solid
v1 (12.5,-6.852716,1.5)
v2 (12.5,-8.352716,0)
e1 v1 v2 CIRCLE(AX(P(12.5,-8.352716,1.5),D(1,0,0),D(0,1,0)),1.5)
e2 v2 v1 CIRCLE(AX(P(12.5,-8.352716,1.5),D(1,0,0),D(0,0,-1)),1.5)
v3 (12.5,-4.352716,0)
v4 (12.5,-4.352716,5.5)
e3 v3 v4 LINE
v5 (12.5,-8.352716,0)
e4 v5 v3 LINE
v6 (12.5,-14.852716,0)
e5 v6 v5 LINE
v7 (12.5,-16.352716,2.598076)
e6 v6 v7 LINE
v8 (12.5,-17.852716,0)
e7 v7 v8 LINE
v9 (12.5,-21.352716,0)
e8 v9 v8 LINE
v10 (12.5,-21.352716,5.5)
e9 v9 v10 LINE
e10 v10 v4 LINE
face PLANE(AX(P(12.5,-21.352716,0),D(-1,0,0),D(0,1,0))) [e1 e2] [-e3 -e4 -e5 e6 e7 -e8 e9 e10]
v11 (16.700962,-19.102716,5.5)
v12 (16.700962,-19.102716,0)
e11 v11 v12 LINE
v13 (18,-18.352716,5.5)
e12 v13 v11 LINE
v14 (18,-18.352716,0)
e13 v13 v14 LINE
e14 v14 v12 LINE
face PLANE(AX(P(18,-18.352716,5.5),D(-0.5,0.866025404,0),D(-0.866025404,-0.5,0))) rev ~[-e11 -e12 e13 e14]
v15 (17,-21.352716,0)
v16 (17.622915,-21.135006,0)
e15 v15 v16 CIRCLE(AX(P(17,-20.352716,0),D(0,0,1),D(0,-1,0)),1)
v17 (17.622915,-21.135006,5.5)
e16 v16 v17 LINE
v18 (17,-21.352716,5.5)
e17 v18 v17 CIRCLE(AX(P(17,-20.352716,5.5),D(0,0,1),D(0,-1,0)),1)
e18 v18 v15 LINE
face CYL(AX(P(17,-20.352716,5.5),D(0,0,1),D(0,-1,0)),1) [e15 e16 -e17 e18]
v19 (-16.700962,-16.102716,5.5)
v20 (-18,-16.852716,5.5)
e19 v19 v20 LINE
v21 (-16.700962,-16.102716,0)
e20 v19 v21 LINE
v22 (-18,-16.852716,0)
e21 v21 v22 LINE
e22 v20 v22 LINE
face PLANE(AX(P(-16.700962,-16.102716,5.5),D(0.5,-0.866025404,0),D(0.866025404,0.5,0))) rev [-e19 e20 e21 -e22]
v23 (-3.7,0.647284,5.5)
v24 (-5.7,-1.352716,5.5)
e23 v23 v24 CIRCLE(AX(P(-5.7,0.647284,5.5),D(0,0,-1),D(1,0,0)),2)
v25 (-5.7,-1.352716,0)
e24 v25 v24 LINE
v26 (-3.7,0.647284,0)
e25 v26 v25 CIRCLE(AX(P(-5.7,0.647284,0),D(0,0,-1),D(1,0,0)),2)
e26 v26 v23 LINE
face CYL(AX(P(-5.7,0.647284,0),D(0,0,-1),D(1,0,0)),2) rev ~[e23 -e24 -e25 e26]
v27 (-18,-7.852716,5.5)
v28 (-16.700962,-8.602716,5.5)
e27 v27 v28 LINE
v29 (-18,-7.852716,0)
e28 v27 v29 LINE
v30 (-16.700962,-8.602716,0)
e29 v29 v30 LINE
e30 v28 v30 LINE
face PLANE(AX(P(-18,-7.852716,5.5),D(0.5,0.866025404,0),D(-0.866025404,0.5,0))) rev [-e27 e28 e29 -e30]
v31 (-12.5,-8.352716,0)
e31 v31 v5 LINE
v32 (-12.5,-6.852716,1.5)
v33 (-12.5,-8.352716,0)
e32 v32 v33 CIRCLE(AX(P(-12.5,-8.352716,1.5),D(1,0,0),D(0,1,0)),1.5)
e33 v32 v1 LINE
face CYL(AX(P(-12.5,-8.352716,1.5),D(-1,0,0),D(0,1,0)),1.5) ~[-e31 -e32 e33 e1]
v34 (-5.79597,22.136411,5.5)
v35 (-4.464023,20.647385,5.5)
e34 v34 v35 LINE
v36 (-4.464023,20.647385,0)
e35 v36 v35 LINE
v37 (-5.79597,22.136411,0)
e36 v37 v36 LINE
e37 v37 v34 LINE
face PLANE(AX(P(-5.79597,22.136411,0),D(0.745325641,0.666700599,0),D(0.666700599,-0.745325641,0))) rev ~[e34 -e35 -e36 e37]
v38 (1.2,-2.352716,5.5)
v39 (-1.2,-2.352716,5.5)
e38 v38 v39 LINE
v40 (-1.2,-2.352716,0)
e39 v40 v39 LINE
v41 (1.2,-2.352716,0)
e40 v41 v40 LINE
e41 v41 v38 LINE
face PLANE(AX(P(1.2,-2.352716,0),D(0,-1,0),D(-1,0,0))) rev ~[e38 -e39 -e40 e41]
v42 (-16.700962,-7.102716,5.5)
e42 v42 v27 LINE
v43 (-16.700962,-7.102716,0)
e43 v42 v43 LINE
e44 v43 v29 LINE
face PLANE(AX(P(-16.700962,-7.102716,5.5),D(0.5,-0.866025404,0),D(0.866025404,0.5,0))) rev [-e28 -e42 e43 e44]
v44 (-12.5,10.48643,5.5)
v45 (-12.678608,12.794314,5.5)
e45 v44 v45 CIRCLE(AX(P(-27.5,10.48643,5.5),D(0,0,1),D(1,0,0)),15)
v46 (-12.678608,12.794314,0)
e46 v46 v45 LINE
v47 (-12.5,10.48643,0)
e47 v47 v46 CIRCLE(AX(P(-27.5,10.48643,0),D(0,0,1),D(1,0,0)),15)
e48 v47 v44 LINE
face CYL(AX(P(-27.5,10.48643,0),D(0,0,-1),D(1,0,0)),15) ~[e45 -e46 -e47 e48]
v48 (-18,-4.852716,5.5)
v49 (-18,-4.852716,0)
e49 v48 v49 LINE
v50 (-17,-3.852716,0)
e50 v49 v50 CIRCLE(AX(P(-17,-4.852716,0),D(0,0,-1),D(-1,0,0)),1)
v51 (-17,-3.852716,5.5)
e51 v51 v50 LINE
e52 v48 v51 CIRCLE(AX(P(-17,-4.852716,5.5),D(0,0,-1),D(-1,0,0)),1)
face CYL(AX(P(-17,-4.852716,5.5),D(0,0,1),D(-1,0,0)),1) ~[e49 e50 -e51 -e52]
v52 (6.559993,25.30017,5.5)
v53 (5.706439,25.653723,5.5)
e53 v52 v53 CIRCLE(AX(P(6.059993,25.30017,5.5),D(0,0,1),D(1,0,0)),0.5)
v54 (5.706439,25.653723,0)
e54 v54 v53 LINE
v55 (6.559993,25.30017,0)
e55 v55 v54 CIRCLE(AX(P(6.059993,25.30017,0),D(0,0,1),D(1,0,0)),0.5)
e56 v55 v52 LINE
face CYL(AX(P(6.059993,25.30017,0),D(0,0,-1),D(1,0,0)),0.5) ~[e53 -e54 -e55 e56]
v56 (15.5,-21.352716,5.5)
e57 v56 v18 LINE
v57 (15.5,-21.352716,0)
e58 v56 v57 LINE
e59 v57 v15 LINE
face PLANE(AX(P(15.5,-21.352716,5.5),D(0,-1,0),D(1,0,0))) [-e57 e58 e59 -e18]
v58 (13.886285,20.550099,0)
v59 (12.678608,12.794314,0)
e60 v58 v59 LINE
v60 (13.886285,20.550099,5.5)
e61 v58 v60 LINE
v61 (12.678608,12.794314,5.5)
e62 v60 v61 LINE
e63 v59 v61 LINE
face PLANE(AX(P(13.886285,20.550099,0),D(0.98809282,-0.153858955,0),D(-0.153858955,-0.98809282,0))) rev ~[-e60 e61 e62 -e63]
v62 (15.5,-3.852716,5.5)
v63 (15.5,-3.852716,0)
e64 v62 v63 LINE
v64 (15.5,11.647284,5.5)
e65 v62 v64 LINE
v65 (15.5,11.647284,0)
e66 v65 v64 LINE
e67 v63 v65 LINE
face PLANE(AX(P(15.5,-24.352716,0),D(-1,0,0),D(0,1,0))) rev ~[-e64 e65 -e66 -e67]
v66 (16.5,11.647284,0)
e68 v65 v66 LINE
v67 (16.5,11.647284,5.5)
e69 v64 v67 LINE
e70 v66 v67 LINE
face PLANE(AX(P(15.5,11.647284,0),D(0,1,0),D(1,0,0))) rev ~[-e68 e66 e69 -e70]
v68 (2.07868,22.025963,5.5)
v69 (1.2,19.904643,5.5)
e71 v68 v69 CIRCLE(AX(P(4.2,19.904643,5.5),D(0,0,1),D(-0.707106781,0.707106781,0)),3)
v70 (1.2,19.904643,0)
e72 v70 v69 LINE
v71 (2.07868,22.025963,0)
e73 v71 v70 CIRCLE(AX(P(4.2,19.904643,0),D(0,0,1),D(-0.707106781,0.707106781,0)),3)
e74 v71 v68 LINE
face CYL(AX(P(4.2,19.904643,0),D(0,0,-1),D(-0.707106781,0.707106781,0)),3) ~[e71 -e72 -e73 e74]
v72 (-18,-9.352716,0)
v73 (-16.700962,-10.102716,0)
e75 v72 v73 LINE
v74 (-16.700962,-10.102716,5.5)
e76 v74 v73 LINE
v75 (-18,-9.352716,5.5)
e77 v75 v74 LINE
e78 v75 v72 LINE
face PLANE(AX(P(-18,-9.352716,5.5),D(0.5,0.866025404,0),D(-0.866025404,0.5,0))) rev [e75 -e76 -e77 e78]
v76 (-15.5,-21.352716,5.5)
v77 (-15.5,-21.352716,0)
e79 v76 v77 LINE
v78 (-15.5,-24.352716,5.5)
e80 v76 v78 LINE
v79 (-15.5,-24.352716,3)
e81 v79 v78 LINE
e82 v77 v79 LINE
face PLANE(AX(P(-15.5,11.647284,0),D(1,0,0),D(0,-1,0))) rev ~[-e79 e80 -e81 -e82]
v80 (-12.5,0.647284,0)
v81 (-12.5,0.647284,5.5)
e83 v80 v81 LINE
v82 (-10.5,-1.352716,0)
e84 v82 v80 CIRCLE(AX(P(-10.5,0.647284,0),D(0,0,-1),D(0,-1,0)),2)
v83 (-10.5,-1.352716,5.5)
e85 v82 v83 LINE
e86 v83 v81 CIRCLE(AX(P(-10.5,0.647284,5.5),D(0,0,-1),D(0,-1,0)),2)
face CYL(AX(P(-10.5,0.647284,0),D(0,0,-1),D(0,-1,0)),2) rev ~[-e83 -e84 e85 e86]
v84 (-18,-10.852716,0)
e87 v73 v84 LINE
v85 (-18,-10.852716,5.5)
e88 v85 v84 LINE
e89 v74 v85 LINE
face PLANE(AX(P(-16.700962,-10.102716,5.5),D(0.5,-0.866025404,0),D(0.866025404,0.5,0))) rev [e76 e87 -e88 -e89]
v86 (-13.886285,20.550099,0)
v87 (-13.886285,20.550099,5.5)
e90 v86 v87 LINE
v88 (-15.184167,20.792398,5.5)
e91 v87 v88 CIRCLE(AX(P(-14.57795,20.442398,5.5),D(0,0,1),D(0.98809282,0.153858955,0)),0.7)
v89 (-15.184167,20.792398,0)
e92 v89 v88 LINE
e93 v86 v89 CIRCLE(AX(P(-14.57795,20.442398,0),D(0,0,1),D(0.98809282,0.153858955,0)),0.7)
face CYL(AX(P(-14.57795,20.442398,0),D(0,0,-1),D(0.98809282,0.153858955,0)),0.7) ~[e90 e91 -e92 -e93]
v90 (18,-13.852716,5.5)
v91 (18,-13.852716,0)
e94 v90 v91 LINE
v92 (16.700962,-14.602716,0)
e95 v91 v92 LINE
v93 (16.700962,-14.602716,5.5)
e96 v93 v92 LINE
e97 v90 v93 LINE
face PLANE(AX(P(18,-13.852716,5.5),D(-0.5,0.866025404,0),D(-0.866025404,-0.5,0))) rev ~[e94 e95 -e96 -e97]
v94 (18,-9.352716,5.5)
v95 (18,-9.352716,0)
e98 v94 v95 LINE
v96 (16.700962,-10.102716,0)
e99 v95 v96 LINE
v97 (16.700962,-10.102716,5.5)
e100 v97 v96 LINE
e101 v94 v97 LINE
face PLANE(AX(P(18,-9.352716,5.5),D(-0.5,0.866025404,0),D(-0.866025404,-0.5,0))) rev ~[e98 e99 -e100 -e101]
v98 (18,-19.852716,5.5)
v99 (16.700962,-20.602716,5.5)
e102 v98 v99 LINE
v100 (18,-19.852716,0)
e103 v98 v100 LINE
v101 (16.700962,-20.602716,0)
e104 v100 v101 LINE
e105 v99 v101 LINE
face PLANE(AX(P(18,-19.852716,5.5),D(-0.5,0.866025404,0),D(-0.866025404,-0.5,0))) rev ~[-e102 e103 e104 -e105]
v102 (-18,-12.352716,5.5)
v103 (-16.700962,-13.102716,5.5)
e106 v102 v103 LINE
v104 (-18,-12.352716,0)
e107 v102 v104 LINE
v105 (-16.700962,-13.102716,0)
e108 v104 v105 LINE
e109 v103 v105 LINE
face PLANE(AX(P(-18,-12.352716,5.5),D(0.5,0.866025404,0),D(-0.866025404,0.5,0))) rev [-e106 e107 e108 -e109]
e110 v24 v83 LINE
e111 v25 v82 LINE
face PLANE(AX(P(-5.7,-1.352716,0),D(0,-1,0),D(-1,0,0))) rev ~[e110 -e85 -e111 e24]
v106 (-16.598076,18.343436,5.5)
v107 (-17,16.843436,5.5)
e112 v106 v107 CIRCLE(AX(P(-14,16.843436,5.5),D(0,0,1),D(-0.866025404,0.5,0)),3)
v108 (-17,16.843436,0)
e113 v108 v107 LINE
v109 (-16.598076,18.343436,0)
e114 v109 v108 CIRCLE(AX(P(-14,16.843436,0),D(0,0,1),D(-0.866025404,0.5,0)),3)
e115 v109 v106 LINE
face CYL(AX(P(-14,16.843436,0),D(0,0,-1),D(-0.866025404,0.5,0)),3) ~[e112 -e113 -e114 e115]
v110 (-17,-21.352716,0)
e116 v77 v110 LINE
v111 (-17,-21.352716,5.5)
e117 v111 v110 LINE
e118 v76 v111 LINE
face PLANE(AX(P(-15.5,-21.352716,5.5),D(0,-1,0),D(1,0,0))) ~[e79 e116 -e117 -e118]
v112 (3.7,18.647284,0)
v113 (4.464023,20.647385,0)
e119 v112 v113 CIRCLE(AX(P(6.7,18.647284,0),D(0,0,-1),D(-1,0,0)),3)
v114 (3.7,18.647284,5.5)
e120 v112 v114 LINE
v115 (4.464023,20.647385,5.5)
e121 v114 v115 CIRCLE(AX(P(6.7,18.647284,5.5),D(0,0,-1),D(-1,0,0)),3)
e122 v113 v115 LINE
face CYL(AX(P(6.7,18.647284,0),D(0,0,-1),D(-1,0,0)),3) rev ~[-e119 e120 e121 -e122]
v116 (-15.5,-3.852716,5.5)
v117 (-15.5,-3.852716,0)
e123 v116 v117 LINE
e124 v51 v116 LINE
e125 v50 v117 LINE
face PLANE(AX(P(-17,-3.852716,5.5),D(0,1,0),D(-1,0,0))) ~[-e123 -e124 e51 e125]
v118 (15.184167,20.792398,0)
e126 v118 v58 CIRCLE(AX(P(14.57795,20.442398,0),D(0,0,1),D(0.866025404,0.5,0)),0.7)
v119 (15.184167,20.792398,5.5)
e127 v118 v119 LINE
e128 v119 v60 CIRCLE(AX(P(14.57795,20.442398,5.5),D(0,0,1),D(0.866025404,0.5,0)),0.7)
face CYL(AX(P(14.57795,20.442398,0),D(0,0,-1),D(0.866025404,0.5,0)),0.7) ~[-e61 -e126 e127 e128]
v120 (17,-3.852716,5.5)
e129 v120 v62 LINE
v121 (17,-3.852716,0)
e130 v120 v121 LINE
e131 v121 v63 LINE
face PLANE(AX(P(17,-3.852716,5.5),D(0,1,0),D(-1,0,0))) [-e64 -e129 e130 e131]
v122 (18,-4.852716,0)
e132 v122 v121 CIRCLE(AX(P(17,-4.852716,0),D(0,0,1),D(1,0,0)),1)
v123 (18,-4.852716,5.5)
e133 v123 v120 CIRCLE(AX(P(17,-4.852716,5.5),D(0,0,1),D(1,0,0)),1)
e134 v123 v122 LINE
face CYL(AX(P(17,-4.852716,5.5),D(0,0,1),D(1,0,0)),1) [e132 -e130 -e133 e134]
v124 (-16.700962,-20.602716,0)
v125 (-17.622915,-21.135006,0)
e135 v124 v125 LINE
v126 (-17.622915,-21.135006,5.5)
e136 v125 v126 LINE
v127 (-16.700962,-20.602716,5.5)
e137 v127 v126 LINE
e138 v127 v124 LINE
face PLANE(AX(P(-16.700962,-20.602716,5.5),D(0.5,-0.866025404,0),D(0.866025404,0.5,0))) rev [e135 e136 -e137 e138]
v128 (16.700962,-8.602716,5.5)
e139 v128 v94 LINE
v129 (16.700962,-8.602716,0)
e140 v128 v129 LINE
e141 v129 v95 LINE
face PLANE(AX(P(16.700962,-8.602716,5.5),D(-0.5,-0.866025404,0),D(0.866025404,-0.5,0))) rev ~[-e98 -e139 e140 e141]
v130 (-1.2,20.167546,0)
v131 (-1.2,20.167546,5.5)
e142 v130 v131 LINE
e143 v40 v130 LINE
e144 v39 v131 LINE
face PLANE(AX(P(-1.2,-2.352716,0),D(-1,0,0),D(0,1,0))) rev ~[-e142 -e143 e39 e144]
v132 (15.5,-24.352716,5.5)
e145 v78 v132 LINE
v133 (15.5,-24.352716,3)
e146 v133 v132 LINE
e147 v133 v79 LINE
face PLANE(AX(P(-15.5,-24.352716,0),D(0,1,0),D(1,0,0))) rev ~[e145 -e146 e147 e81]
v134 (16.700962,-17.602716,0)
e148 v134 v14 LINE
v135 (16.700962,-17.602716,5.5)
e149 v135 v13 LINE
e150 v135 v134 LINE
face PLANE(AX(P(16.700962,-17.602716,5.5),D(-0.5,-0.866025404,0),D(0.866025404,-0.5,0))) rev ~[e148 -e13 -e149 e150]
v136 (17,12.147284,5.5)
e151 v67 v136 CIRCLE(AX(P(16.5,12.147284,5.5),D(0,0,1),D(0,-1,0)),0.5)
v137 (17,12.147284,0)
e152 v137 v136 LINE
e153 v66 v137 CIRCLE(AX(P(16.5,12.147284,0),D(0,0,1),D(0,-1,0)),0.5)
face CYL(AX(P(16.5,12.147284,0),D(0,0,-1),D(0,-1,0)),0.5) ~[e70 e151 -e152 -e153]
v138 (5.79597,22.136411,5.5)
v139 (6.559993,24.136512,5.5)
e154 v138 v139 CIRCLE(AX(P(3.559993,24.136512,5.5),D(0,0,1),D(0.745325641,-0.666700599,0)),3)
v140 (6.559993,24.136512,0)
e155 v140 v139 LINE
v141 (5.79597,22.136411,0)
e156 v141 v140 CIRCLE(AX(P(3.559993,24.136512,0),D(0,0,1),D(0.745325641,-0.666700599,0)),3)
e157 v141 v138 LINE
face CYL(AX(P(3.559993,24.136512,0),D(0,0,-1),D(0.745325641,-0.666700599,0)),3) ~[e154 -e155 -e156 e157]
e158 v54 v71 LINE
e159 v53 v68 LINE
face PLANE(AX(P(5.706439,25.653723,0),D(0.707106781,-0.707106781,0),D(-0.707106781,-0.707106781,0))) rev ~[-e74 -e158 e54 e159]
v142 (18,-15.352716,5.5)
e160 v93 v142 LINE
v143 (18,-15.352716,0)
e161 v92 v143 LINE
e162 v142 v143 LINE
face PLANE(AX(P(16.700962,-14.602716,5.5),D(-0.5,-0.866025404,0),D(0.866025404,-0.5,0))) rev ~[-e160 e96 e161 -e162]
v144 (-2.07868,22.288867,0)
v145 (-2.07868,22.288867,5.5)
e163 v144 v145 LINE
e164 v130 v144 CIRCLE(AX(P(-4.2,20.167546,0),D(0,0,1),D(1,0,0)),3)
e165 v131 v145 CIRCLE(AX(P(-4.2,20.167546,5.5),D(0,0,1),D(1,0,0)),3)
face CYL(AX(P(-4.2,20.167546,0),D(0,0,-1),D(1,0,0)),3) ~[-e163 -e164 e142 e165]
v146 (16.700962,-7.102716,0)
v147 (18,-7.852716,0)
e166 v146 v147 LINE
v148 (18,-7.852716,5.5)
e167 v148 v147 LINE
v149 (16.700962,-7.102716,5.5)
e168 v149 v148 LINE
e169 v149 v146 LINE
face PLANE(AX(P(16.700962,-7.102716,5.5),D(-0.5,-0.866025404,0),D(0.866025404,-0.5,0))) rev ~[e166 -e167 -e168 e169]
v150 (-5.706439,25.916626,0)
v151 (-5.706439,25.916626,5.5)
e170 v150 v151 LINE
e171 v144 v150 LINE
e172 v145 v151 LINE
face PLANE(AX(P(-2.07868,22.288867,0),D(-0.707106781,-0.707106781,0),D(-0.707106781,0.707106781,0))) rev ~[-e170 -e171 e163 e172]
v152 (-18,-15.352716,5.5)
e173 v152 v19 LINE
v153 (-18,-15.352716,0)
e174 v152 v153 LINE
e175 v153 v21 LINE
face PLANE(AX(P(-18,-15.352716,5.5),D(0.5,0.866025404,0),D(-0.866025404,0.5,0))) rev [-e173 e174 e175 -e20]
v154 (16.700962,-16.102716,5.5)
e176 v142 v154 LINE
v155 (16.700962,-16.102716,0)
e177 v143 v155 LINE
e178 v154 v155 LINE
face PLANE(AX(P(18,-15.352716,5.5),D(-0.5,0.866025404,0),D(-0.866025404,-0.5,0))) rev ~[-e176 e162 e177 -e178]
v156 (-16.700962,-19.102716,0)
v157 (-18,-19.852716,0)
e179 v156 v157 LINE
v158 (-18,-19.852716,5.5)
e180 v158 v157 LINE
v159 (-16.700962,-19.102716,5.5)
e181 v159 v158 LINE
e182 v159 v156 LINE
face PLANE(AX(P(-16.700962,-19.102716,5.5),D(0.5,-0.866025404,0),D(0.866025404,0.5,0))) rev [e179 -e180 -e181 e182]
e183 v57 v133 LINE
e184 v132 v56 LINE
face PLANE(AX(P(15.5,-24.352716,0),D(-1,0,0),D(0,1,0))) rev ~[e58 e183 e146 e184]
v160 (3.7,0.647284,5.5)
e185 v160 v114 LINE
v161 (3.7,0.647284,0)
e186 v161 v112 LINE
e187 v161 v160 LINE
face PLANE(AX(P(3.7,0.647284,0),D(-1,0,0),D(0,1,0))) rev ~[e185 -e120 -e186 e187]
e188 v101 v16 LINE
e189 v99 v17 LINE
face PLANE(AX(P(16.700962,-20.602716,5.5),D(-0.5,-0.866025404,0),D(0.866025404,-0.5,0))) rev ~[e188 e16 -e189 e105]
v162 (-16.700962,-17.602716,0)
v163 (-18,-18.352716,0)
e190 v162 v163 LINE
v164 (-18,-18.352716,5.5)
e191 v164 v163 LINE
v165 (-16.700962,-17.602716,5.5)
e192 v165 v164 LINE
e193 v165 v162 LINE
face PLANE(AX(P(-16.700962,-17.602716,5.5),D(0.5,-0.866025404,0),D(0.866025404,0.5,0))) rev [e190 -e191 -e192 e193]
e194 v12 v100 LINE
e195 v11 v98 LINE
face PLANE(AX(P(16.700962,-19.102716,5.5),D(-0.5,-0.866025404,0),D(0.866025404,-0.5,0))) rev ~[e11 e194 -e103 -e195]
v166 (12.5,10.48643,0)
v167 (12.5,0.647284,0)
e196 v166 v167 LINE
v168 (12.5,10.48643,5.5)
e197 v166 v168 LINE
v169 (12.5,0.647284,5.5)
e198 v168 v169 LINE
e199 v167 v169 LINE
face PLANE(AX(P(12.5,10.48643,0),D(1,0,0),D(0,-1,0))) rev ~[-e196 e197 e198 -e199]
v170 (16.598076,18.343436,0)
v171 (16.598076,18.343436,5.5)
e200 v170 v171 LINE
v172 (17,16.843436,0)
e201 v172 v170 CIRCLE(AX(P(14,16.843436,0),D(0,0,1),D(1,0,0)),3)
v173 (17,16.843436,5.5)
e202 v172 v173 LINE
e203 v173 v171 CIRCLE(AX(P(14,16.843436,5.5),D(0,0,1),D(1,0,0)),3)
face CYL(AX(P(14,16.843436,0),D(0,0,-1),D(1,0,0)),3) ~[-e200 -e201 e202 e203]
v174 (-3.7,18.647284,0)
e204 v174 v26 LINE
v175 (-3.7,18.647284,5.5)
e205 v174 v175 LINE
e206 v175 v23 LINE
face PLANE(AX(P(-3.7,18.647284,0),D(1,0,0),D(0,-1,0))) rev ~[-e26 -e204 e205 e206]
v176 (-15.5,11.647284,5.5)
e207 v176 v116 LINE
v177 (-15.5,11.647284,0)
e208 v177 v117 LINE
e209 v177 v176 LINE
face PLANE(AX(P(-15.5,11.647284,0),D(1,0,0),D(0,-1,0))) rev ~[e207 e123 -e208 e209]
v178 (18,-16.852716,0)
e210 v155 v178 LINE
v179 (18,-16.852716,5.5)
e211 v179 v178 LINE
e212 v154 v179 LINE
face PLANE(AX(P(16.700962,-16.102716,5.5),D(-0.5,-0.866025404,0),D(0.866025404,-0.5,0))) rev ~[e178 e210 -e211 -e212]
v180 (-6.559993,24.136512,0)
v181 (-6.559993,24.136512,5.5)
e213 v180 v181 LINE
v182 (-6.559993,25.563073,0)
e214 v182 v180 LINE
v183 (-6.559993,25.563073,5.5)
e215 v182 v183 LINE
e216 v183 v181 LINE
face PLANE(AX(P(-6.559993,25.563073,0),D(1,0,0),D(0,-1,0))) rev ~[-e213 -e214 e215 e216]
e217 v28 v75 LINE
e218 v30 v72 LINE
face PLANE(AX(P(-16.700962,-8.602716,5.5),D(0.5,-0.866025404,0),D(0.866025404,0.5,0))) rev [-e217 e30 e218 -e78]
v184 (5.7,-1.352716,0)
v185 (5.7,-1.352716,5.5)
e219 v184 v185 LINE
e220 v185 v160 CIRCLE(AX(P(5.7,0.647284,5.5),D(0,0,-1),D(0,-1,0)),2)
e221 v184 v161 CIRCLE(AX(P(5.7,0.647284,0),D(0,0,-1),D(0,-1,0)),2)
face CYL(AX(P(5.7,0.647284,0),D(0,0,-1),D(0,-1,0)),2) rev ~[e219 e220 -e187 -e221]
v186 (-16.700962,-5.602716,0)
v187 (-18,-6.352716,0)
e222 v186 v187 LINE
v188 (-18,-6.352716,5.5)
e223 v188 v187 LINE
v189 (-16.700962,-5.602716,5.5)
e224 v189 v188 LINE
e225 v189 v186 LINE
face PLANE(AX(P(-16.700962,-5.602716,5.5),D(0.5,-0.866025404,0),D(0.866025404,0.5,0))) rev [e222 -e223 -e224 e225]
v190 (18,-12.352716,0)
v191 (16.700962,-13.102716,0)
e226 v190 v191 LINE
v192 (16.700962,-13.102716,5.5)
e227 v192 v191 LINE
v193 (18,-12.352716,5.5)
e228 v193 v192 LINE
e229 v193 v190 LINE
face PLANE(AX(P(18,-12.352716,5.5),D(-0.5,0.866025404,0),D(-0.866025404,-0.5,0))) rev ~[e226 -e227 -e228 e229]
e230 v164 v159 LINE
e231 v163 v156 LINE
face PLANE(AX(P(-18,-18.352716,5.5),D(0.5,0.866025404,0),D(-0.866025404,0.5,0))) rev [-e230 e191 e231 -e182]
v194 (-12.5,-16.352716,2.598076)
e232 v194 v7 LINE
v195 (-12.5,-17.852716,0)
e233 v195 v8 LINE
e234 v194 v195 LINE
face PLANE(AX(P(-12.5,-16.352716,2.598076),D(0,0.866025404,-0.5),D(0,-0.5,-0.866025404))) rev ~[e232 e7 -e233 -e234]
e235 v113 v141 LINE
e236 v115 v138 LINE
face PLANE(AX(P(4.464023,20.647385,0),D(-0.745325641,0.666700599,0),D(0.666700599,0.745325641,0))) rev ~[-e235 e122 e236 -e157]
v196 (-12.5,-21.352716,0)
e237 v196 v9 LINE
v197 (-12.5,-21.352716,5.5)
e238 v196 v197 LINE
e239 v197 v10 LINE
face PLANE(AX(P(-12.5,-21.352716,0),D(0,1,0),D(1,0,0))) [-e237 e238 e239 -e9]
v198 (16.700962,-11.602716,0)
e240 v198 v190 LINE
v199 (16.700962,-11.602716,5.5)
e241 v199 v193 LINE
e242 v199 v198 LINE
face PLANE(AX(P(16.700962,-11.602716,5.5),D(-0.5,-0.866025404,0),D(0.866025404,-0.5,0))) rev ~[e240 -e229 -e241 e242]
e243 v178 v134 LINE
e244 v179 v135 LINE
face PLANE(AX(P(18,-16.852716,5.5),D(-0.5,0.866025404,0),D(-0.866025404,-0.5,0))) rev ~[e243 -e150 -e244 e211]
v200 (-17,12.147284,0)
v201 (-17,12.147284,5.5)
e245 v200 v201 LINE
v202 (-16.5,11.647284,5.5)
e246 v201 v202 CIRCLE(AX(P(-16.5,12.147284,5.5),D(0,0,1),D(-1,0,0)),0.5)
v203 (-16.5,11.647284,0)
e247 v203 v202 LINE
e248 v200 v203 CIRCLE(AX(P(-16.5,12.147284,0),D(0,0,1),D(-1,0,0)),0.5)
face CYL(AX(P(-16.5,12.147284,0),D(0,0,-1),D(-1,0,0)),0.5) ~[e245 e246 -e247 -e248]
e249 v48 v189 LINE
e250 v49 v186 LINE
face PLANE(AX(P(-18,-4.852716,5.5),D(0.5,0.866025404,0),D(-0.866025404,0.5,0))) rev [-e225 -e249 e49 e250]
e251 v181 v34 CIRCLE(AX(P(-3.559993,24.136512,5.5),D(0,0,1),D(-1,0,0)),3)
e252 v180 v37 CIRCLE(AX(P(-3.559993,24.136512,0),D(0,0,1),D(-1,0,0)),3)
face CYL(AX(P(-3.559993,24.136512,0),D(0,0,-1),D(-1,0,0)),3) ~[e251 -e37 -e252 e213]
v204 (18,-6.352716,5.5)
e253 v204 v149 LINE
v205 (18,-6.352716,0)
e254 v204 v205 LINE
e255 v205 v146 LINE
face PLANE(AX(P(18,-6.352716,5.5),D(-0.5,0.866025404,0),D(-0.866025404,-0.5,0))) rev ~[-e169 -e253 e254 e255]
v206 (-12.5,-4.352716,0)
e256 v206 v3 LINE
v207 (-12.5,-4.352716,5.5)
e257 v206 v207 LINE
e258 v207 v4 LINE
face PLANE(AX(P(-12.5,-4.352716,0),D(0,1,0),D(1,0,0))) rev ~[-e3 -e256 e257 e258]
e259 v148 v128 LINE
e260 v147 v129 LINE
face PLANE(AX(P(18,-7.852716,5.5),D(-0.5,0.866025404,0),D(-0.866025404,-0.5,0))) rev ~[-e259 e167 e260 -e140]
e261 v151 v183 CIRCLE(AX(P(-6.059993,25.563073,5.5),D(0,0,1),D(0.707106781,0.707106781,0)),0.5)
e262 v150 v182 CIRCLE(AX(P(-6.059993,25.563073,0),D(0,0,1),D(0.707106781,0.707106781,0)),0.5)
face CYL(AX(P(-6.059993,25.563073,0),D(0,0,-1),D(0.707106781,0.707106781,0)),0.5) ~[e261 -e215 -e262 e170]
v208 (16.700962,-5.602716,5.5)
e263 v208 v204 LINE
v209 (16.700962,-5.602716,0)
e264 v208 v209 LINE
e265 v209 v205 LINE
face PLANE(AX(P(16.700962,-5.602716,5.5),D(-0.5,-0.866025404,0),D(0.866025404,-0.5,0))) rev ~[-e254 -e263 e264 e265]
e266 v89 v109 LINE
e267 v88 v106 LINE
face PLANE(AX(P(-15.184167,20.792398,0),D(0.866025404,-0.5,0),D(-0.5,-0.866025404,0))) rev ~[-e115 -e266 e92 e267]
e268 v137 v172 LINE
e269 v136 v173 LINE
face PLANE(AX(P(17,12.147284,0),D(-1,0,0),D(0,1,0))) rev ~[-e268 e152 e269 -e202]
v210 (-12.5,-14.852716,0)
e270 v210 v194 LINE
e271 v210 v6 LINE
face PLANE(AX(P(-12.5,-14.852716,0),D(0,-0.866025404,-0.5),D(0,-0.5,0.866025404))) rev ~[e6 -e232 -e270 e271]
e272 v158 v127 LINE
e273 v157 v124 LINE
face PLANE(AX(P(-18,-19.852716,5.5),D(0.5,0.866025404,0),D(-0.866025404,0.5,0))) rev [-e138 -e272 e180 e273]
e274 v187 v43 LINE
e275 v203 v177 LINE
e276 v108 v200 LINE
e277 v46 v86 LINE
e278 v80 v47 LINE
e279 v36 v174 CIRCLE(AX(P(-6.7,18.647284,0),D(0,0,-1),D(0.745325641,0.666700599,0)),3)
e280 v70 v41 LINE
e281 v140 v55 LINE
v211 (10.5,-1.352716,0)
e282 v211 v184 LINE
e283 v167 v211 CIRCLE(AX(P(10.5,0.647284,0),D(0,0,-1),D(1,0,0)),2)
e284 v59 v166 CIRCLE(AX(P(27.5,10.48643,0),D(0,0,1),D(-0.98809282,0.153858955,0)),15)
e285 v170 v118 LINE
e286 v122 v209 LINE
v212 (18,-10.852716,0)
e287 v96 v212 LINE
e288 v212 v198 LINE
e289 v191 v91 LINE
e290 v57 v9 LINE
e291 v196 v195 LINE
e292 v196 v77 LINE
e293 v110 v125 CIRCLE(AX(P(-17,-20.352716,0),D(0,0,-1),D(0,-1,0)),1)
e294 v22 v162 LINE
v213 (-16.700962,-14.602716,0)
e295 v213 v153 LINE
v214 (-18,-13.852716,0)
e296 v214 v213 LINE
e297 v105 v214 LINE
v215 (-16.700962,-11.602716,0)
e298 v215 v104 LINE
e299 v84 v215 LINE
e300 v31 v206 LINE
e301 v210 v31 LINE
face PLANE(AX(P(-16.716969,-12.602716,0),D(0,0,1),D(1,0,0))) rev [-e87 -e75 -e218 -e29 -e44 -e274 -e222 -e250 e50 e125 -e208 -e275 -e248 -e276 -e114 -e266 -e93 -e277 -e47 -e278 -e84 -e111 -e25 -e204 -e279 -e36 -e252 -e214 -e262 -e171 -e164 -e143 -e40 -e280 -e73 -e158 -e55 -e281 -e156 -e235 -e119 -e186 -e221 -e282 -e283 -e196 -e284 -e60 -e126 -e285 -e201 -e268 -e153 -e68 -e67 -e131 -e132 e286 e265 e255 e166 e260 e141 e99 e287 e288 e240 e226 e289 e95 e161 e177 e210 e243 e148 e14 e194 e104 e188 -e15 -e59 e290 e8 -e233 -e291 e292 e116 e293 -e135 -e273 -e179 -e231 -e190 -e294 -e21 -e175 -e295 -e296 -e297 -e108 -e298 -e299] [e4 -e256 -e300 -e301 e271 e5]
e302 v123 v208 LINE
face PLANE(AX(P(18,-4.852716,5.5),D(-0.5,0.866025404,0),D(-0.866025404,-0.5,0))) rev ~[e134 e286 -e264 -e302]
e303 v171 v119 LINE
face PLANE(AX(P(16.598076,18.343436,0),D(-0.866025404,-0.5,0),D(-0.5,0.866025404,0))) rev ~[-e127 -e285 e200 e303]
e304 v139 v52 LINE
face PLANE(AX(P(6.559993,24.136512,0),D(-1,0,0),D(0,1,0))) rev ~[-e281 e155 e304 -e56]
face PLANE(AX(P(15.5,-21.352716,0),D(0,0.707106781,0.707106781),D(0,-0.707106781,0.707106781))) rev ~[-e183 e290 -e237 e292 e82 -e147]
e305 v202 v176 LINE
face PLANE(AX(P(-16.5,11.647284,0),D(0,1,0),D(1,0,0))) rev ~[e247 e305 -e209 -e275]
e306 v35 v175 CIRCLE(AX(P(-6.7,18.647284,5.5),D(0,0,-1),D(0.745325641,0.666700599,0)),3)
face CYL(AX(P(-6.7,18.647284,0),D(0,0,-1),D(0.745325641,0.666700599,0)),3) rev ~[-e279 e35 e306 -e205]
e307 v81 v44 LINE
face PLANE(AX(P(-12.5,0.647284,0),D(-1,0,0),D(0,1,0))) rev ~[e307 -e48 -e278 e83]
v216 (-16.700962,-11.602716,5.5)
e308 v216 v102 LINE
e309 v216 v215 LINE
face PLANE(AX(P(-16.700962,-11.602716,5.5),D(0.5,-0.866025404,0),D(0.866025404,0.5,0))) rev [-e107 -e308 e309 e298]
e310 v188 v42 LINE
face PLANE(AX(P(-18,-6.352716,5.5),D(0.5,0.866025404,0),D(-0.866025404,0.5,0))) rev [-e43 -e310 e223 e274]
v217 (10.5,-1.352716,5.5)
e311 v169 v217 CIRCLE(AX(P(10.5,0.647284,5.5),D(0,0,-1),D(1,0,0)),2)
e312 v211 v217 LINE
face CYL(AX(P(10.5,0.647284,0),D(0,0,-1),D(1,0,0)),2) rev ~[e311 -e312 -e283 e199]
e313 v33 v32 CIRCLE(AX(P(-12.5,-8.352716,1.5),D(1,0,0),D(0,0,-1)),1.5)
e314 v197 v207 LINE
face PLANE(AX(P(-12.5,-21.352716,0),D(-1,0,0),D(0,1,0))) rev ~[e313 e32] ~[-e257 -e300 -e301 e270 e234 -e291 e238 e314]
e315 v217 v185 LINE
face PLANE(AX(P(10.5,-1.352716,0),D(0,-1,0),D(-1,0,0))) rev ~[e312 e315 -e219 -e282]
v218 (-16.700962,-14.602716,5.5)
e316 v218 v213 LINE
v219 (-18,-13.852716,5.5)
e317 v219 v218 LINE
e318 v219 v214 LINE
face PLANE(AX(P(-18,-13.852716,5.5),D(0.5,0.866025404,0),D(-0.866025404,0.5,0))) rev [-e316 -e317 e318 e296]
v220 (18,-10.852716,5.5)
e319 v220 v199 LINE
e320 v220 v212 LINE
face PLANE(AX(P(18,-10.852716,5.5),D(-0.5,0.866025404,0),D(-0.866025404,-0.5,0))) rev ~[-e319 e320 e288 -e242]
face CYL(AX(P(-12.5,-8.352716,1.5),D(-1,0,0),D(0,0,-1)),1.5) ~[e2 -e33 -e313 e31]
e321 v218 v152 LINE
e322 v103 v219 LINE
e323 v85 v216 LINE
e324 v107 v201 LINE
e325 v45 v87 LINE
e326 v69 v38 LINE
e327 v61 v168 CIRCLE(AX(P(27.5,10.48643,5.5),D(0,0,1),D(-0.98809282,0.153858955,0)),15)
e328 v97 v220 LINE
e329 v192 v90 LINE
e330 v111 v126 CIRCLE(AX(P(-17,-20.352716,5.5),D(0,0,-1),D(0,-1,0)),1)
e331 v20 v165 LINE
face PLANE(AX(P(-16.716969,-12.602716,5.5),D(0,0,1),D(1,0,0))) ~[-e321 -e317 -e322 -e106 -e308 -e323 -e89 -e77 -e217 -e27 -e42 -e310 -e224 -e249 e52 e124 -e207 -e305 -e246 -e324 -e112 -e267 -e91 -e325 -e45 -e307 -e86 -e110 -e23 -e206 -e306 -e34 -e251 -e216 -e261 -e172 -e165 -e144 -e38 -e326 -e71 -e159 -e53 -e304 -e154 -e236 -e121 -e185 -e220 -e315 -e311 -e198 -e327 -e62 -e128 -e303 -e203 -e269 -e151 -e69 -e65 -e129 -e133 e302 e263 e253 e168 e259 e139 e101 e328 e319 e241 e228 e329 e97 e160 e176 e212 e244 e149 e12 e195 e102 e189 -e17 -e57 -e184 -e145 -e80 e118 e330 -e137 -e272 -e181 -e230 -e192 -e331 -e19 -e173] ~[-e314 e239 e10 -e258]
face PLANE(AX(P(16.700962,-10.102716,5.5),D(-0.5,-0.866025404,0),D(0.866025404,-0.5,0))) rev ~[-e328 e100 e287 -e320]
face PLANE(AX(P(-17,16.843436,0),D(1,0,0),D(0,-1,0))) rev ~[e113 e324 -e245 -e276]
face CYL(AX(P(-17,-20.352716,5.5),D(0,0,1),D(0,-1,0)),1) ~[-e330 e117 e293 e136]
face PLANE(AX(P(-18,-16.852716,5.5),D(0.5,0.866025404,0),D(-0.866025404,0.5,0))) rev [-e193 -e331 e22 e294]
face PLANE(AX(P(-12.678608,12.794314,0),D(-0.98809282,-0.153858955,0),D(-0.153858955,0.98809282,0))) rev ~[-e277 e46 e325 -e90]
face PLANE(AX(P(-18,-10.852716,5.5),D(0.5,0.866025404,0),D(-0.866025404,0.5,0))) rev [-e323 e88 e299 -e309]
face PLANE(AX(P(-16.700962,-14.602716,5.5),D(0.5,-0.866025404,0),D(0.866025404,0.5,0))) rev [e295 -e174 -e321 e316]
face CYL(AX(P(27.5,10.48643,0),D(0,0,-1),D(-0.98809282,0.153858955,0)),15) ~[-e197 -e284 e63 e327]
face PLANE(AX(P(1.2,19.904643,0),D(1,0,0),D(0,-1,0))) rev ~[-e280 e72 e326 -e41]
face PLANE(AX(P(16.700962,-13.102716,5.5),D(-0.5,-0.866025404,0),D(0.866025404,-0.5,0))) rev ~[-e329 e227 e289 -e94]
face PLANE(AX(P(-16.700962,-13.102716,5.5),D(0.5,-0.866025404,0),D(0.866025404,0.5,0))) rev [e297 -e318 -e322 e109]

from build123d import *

# Parameters (mm, degrees)
F0_W     = 25
F0_H     = 17
F1_DEPTH = 5.5
F3_DEPTH = 25
F5_DEPTH = 32.501
F7_DEPTH = 5.5
F9_DEPTH = 5.501


with BuildPart() as f1:
    # F0 (on Top) → F1 (new body)
    with BuildSketch(Plane.XY):
        with BuildLine():
            Line((-15.5, -24.3527164447), (15.5, -24.3527164447))
            Line((15.5, -24.3527164447), (15.5, 11.6472835553))
            Line((15.5, 11.6472835553), (16.5, 11.6472835553))
            ThreePointArc((16.5, 11.6472835553), (16.8535533906, 11.7937301647), (17, 12.1472835553))
            Line((17, 12.1472835553), (17, 16.843435978))
            ThreePointArc((17, 16.843435978), (16.8977774789, 17.6198931134), (16.5980762114, 18.343435978))
            Line((16.5980762114, 18.343435978), (15.1841674029, 20.7923978715))
            ThreePointArc((15.1841674029, 20.7923978715), (14.4494876631, 21.1305094363), (13.8862846459, 20.5500991403))
            Line((13.8862846459, 20.5500991403), (12.678607693, 12.7943144757))
            ThreePointArc((12.678607693, 12.7943144757), (12.5447185816, 11.6438227741), (12.5, 10.4864301451))
            Line((12.5, 10.4864301451), (12.5, 0.6472835553))
            ThreePointArc((12.5, 0.6472835553), (11.9142135624, -0.766930007), (10.5, -1.3527164447))
            Line((10.5, -1.3527164447), (5.7, -1.3527164447))
            ThreePointArc((5.7, -1.3527164447), (4.2857864376, -0.766930007), (3.7, 0.6472835553))
            Line((3.7, 0.6472835553), (3.7, 18.6472835553))
            ThreePointArc((3.7, 18.6472835553), (3.8975072906, 19.7178136174), (4.4640230758, 20.6473853514))
            Line((4.4640230758, 20.6473853514), (5.7959697488, 22.1364105755))
            ThreePointArc((5.7959697488, 22.1364105755), (6.362485534, 23.0659823095), (6.5599928246, 24.1365123716))
            Line((6.5599928246, 24.1365123716), (6.5599928246, 25.3001695988))
            ThreePointArc((6.5599928246, 25.3001695988), (6.2513345408, 25.762109365), (5.706439434, 25.6537229894))
            Line((5.706439434, 25.6537229894), (2.0786796564, 22.0259632118))
            ThreePointArc((2.0786796564, 22.0259632118), (1.4283614025, 21.0526931653), (1.2, 19.9046428682))
            Line((1.2, 19.9046428682), (1.2, -2.3527164447))
            Line((1.2, -2.3527164447), (-1.2, -2.3527164447))
            Line((-1.2, -2.3527164447), (-1.2, 20.1675462621))
            ThreePointArc((-1.2, 20.1675462621), (-1.4283614025, 21.3155965592), (-2.0786796564, 22.2888666056))
            Line((-2.0786796564, 22.2888666056), (-5.706439434, 25.9166263832))
            ThreePointArc((-5.706439434, 25.9166263832), (-6.2513345408, 26.0250127589), (-6.5599928246, 25.5630729926))
            Line((-6.5599928246, 25.5630729926), (-6.5599928246, 24.1365123716))
            ThreePointArc((-6.5599928246, 24.1365123716), (-6.362485534, 23.0659823095), (-5.7959697488, 22.1364105755))
            Line((-5.7959697488, 22.1364105755), (-4.4640230758, 20.6473853514))
            ThreePointArc((-4.4640230758, 20.6473853514), (-3.8975072906, 19.7178136174), (-3.7, 18.6472835553))
            Line((-3.7, 18.6472835553), (-3.7, 0.6472835553))
            ThreePointArc((-3.7, 0.6472835553), (-4.2857864376, -0.766930007), (-5.7, -1.3527164447))
            Line((-5.7, -1.3527164447), (-10.5, -1.3527164447))
            ThreePointArc((-10.5, -1.3527164447), (-11.9142135624, -0.766930007), (-12.5, 0.6472835553))
            Line((-12.5, 0.6472835553), (-12.5, 10.4864301451))
            ThreePointArc((-12.5, 10.4864301451), (-12.5447185816, 11.6438227741), (-12.678607693, 12.7943144757))
            Line((-12.678607693, 12.7943144757), (-13.8862846459, 20.5500991403))
            ThreePointArc((-13.8862846459, 20.5500991403), (-14.4494876631, 21.1305094363), (-15.1841674029, 20.7923978715))
            Line((-15.1841674029, 20.7923978715), (-16.5980762114, 18.343435978))
            ThreePointArc((-16.5980762114, 18.343435978), (-16.8977774789, 17.6198931134), (-17, 16.843435978))
            Line((-17, 16.843435978), (-17, 12.1472835553))
            ThreePointArc((-17, 12.1472835553), (-16.8535533906, 11.7937301647), (-16.5, 11.6472835553))
            Line((-16.5, 11.6472835553), (-15.5, 11.6472835553))
            Line((-15.5, 11.6472835553), (-15.5, -24.3527164447))
        make_face()
        with Locations((0, -12.8527164447)):
            Rectangle(F0_W, F0_H, mode=Mode.SUBTRACT)
    extrude(amount=F1_DEPTH)

    # F2 (on face) → F3 (join)
    with BuildSketch(Plane.YZ.offset(-12.5)):
        Polygon((-14.8527164447, 0), (-16.3527164447, 2.5980762114), (-17.8527164447, 0), align=None)
        with BuildLine():
            ThreePointArc((-6.8527164447, 1.5), (-9.4133766164, 2.5606601718), (-8.3527164447, 0))
            ThreePointArc((-8.3527164447, 0), (-7.2920562729, 0.4393398282), (-6.8527164447, 1.5))
        make_face()
    extrude(amount=F3_DEPTH)

    # F4 (on face) → F5 (cut, through all)
    with BuildSketch(Plane.YZ.offset(15.5)):
        Polygon((-24.3527164447, 0), (-21.3527164447, 0), (-24.3527164447, 3), align=None)
    extrude(amount=-F5_DEPTH, mode=Mode.SUBTRACT)



with BuildPart() as f7:
    # F6 (on face) → F7 (new body, through all)
    with BuildSketch(Plane.XY.offset(5.5)):
        with BuildLine():
            Line((17, -3.8527164447), (15.5, -3.8527164447))
            Line((15.5, -3.8527164447), (15.5, -21.3527164447))
            Line((15.5, -21.3527164447), (17, -21.3527164447))
            ThreePointArc((17, -21.3527164447), (17.7071067812, -21.0598232258), (18, -20.3527164447))
            Line((18, -20.3527164447), (18, -4.8527164447))
            ThreePointArc((18, -4.8527164447), (17.7071067812, -4.1456096635), (17, -3.8527164447))
        make_face()
    extrude(amount=-F7_DEPTH)

    # F8 (on face) → F9 (cut, through all)
    with BuildSketch(Plane.XY.offset(5.5)):
        Polygon((18, -6.3527164447), (18, -4.8527164447), (16.7009618943, -5.6027164447), align=None)
        Polygon((18, -21.3527164447), (18, -19.8527164447), (16.7009618943, -20.6027164447), align=None)
        Polygon((18, -19.8527164447), (18, -18.3527164447), (16.7009618943, -19.1027164447), align=None)
        Polygon((18, -18.3527164447), (18, -16.8527164447), (16.7009618943, -17.6027164447), align=None)
        Polygon((18, -16.8527164447), (18, -15.3527164447), (16.7009618943, -16.1027164447), align=None)
        Polygon((18, -15.3527164447), (18, -13.8527164447), (16.7009618943, -14.6027164447), align=None)
        Polygon((18, -13.8527164447), (18, -12.3527164447), (16.7009618943, -13.1027164447), align=None)
        Polygon((18, -12.3527164447), (18, -10.8527164447), (16.7009618943, -11.6027164447), align=None)
        Polygon((18, -10.8527164447), (18, -9.3527164447), (16.7009618943, -10.1027164447), align=None)
        Polygon((18, -9.3527164447), (18, -7.8527164447), (16.7009618943, -8.6027164447), align=None)
        Polygon((18, -7.8527164447), (18, -6.3527164447), (16.7009618943, -7.1027164447), align=None)
    extrude(amount=-F9_DEPTH, mode=Mode.SUBTRACT)


with BuildPart() as f1_1:
    add(f1.part)

    add(f7.part)  # F11 merges F7
    # F11: F7 across plane
    add(f7.part.mirror(Plane(origin=(0, -5.9573676074, 2.7906976744), x_dir=(0, 1, 0), z_dir=(1, 0, 0))))


solid = f1_1.part
